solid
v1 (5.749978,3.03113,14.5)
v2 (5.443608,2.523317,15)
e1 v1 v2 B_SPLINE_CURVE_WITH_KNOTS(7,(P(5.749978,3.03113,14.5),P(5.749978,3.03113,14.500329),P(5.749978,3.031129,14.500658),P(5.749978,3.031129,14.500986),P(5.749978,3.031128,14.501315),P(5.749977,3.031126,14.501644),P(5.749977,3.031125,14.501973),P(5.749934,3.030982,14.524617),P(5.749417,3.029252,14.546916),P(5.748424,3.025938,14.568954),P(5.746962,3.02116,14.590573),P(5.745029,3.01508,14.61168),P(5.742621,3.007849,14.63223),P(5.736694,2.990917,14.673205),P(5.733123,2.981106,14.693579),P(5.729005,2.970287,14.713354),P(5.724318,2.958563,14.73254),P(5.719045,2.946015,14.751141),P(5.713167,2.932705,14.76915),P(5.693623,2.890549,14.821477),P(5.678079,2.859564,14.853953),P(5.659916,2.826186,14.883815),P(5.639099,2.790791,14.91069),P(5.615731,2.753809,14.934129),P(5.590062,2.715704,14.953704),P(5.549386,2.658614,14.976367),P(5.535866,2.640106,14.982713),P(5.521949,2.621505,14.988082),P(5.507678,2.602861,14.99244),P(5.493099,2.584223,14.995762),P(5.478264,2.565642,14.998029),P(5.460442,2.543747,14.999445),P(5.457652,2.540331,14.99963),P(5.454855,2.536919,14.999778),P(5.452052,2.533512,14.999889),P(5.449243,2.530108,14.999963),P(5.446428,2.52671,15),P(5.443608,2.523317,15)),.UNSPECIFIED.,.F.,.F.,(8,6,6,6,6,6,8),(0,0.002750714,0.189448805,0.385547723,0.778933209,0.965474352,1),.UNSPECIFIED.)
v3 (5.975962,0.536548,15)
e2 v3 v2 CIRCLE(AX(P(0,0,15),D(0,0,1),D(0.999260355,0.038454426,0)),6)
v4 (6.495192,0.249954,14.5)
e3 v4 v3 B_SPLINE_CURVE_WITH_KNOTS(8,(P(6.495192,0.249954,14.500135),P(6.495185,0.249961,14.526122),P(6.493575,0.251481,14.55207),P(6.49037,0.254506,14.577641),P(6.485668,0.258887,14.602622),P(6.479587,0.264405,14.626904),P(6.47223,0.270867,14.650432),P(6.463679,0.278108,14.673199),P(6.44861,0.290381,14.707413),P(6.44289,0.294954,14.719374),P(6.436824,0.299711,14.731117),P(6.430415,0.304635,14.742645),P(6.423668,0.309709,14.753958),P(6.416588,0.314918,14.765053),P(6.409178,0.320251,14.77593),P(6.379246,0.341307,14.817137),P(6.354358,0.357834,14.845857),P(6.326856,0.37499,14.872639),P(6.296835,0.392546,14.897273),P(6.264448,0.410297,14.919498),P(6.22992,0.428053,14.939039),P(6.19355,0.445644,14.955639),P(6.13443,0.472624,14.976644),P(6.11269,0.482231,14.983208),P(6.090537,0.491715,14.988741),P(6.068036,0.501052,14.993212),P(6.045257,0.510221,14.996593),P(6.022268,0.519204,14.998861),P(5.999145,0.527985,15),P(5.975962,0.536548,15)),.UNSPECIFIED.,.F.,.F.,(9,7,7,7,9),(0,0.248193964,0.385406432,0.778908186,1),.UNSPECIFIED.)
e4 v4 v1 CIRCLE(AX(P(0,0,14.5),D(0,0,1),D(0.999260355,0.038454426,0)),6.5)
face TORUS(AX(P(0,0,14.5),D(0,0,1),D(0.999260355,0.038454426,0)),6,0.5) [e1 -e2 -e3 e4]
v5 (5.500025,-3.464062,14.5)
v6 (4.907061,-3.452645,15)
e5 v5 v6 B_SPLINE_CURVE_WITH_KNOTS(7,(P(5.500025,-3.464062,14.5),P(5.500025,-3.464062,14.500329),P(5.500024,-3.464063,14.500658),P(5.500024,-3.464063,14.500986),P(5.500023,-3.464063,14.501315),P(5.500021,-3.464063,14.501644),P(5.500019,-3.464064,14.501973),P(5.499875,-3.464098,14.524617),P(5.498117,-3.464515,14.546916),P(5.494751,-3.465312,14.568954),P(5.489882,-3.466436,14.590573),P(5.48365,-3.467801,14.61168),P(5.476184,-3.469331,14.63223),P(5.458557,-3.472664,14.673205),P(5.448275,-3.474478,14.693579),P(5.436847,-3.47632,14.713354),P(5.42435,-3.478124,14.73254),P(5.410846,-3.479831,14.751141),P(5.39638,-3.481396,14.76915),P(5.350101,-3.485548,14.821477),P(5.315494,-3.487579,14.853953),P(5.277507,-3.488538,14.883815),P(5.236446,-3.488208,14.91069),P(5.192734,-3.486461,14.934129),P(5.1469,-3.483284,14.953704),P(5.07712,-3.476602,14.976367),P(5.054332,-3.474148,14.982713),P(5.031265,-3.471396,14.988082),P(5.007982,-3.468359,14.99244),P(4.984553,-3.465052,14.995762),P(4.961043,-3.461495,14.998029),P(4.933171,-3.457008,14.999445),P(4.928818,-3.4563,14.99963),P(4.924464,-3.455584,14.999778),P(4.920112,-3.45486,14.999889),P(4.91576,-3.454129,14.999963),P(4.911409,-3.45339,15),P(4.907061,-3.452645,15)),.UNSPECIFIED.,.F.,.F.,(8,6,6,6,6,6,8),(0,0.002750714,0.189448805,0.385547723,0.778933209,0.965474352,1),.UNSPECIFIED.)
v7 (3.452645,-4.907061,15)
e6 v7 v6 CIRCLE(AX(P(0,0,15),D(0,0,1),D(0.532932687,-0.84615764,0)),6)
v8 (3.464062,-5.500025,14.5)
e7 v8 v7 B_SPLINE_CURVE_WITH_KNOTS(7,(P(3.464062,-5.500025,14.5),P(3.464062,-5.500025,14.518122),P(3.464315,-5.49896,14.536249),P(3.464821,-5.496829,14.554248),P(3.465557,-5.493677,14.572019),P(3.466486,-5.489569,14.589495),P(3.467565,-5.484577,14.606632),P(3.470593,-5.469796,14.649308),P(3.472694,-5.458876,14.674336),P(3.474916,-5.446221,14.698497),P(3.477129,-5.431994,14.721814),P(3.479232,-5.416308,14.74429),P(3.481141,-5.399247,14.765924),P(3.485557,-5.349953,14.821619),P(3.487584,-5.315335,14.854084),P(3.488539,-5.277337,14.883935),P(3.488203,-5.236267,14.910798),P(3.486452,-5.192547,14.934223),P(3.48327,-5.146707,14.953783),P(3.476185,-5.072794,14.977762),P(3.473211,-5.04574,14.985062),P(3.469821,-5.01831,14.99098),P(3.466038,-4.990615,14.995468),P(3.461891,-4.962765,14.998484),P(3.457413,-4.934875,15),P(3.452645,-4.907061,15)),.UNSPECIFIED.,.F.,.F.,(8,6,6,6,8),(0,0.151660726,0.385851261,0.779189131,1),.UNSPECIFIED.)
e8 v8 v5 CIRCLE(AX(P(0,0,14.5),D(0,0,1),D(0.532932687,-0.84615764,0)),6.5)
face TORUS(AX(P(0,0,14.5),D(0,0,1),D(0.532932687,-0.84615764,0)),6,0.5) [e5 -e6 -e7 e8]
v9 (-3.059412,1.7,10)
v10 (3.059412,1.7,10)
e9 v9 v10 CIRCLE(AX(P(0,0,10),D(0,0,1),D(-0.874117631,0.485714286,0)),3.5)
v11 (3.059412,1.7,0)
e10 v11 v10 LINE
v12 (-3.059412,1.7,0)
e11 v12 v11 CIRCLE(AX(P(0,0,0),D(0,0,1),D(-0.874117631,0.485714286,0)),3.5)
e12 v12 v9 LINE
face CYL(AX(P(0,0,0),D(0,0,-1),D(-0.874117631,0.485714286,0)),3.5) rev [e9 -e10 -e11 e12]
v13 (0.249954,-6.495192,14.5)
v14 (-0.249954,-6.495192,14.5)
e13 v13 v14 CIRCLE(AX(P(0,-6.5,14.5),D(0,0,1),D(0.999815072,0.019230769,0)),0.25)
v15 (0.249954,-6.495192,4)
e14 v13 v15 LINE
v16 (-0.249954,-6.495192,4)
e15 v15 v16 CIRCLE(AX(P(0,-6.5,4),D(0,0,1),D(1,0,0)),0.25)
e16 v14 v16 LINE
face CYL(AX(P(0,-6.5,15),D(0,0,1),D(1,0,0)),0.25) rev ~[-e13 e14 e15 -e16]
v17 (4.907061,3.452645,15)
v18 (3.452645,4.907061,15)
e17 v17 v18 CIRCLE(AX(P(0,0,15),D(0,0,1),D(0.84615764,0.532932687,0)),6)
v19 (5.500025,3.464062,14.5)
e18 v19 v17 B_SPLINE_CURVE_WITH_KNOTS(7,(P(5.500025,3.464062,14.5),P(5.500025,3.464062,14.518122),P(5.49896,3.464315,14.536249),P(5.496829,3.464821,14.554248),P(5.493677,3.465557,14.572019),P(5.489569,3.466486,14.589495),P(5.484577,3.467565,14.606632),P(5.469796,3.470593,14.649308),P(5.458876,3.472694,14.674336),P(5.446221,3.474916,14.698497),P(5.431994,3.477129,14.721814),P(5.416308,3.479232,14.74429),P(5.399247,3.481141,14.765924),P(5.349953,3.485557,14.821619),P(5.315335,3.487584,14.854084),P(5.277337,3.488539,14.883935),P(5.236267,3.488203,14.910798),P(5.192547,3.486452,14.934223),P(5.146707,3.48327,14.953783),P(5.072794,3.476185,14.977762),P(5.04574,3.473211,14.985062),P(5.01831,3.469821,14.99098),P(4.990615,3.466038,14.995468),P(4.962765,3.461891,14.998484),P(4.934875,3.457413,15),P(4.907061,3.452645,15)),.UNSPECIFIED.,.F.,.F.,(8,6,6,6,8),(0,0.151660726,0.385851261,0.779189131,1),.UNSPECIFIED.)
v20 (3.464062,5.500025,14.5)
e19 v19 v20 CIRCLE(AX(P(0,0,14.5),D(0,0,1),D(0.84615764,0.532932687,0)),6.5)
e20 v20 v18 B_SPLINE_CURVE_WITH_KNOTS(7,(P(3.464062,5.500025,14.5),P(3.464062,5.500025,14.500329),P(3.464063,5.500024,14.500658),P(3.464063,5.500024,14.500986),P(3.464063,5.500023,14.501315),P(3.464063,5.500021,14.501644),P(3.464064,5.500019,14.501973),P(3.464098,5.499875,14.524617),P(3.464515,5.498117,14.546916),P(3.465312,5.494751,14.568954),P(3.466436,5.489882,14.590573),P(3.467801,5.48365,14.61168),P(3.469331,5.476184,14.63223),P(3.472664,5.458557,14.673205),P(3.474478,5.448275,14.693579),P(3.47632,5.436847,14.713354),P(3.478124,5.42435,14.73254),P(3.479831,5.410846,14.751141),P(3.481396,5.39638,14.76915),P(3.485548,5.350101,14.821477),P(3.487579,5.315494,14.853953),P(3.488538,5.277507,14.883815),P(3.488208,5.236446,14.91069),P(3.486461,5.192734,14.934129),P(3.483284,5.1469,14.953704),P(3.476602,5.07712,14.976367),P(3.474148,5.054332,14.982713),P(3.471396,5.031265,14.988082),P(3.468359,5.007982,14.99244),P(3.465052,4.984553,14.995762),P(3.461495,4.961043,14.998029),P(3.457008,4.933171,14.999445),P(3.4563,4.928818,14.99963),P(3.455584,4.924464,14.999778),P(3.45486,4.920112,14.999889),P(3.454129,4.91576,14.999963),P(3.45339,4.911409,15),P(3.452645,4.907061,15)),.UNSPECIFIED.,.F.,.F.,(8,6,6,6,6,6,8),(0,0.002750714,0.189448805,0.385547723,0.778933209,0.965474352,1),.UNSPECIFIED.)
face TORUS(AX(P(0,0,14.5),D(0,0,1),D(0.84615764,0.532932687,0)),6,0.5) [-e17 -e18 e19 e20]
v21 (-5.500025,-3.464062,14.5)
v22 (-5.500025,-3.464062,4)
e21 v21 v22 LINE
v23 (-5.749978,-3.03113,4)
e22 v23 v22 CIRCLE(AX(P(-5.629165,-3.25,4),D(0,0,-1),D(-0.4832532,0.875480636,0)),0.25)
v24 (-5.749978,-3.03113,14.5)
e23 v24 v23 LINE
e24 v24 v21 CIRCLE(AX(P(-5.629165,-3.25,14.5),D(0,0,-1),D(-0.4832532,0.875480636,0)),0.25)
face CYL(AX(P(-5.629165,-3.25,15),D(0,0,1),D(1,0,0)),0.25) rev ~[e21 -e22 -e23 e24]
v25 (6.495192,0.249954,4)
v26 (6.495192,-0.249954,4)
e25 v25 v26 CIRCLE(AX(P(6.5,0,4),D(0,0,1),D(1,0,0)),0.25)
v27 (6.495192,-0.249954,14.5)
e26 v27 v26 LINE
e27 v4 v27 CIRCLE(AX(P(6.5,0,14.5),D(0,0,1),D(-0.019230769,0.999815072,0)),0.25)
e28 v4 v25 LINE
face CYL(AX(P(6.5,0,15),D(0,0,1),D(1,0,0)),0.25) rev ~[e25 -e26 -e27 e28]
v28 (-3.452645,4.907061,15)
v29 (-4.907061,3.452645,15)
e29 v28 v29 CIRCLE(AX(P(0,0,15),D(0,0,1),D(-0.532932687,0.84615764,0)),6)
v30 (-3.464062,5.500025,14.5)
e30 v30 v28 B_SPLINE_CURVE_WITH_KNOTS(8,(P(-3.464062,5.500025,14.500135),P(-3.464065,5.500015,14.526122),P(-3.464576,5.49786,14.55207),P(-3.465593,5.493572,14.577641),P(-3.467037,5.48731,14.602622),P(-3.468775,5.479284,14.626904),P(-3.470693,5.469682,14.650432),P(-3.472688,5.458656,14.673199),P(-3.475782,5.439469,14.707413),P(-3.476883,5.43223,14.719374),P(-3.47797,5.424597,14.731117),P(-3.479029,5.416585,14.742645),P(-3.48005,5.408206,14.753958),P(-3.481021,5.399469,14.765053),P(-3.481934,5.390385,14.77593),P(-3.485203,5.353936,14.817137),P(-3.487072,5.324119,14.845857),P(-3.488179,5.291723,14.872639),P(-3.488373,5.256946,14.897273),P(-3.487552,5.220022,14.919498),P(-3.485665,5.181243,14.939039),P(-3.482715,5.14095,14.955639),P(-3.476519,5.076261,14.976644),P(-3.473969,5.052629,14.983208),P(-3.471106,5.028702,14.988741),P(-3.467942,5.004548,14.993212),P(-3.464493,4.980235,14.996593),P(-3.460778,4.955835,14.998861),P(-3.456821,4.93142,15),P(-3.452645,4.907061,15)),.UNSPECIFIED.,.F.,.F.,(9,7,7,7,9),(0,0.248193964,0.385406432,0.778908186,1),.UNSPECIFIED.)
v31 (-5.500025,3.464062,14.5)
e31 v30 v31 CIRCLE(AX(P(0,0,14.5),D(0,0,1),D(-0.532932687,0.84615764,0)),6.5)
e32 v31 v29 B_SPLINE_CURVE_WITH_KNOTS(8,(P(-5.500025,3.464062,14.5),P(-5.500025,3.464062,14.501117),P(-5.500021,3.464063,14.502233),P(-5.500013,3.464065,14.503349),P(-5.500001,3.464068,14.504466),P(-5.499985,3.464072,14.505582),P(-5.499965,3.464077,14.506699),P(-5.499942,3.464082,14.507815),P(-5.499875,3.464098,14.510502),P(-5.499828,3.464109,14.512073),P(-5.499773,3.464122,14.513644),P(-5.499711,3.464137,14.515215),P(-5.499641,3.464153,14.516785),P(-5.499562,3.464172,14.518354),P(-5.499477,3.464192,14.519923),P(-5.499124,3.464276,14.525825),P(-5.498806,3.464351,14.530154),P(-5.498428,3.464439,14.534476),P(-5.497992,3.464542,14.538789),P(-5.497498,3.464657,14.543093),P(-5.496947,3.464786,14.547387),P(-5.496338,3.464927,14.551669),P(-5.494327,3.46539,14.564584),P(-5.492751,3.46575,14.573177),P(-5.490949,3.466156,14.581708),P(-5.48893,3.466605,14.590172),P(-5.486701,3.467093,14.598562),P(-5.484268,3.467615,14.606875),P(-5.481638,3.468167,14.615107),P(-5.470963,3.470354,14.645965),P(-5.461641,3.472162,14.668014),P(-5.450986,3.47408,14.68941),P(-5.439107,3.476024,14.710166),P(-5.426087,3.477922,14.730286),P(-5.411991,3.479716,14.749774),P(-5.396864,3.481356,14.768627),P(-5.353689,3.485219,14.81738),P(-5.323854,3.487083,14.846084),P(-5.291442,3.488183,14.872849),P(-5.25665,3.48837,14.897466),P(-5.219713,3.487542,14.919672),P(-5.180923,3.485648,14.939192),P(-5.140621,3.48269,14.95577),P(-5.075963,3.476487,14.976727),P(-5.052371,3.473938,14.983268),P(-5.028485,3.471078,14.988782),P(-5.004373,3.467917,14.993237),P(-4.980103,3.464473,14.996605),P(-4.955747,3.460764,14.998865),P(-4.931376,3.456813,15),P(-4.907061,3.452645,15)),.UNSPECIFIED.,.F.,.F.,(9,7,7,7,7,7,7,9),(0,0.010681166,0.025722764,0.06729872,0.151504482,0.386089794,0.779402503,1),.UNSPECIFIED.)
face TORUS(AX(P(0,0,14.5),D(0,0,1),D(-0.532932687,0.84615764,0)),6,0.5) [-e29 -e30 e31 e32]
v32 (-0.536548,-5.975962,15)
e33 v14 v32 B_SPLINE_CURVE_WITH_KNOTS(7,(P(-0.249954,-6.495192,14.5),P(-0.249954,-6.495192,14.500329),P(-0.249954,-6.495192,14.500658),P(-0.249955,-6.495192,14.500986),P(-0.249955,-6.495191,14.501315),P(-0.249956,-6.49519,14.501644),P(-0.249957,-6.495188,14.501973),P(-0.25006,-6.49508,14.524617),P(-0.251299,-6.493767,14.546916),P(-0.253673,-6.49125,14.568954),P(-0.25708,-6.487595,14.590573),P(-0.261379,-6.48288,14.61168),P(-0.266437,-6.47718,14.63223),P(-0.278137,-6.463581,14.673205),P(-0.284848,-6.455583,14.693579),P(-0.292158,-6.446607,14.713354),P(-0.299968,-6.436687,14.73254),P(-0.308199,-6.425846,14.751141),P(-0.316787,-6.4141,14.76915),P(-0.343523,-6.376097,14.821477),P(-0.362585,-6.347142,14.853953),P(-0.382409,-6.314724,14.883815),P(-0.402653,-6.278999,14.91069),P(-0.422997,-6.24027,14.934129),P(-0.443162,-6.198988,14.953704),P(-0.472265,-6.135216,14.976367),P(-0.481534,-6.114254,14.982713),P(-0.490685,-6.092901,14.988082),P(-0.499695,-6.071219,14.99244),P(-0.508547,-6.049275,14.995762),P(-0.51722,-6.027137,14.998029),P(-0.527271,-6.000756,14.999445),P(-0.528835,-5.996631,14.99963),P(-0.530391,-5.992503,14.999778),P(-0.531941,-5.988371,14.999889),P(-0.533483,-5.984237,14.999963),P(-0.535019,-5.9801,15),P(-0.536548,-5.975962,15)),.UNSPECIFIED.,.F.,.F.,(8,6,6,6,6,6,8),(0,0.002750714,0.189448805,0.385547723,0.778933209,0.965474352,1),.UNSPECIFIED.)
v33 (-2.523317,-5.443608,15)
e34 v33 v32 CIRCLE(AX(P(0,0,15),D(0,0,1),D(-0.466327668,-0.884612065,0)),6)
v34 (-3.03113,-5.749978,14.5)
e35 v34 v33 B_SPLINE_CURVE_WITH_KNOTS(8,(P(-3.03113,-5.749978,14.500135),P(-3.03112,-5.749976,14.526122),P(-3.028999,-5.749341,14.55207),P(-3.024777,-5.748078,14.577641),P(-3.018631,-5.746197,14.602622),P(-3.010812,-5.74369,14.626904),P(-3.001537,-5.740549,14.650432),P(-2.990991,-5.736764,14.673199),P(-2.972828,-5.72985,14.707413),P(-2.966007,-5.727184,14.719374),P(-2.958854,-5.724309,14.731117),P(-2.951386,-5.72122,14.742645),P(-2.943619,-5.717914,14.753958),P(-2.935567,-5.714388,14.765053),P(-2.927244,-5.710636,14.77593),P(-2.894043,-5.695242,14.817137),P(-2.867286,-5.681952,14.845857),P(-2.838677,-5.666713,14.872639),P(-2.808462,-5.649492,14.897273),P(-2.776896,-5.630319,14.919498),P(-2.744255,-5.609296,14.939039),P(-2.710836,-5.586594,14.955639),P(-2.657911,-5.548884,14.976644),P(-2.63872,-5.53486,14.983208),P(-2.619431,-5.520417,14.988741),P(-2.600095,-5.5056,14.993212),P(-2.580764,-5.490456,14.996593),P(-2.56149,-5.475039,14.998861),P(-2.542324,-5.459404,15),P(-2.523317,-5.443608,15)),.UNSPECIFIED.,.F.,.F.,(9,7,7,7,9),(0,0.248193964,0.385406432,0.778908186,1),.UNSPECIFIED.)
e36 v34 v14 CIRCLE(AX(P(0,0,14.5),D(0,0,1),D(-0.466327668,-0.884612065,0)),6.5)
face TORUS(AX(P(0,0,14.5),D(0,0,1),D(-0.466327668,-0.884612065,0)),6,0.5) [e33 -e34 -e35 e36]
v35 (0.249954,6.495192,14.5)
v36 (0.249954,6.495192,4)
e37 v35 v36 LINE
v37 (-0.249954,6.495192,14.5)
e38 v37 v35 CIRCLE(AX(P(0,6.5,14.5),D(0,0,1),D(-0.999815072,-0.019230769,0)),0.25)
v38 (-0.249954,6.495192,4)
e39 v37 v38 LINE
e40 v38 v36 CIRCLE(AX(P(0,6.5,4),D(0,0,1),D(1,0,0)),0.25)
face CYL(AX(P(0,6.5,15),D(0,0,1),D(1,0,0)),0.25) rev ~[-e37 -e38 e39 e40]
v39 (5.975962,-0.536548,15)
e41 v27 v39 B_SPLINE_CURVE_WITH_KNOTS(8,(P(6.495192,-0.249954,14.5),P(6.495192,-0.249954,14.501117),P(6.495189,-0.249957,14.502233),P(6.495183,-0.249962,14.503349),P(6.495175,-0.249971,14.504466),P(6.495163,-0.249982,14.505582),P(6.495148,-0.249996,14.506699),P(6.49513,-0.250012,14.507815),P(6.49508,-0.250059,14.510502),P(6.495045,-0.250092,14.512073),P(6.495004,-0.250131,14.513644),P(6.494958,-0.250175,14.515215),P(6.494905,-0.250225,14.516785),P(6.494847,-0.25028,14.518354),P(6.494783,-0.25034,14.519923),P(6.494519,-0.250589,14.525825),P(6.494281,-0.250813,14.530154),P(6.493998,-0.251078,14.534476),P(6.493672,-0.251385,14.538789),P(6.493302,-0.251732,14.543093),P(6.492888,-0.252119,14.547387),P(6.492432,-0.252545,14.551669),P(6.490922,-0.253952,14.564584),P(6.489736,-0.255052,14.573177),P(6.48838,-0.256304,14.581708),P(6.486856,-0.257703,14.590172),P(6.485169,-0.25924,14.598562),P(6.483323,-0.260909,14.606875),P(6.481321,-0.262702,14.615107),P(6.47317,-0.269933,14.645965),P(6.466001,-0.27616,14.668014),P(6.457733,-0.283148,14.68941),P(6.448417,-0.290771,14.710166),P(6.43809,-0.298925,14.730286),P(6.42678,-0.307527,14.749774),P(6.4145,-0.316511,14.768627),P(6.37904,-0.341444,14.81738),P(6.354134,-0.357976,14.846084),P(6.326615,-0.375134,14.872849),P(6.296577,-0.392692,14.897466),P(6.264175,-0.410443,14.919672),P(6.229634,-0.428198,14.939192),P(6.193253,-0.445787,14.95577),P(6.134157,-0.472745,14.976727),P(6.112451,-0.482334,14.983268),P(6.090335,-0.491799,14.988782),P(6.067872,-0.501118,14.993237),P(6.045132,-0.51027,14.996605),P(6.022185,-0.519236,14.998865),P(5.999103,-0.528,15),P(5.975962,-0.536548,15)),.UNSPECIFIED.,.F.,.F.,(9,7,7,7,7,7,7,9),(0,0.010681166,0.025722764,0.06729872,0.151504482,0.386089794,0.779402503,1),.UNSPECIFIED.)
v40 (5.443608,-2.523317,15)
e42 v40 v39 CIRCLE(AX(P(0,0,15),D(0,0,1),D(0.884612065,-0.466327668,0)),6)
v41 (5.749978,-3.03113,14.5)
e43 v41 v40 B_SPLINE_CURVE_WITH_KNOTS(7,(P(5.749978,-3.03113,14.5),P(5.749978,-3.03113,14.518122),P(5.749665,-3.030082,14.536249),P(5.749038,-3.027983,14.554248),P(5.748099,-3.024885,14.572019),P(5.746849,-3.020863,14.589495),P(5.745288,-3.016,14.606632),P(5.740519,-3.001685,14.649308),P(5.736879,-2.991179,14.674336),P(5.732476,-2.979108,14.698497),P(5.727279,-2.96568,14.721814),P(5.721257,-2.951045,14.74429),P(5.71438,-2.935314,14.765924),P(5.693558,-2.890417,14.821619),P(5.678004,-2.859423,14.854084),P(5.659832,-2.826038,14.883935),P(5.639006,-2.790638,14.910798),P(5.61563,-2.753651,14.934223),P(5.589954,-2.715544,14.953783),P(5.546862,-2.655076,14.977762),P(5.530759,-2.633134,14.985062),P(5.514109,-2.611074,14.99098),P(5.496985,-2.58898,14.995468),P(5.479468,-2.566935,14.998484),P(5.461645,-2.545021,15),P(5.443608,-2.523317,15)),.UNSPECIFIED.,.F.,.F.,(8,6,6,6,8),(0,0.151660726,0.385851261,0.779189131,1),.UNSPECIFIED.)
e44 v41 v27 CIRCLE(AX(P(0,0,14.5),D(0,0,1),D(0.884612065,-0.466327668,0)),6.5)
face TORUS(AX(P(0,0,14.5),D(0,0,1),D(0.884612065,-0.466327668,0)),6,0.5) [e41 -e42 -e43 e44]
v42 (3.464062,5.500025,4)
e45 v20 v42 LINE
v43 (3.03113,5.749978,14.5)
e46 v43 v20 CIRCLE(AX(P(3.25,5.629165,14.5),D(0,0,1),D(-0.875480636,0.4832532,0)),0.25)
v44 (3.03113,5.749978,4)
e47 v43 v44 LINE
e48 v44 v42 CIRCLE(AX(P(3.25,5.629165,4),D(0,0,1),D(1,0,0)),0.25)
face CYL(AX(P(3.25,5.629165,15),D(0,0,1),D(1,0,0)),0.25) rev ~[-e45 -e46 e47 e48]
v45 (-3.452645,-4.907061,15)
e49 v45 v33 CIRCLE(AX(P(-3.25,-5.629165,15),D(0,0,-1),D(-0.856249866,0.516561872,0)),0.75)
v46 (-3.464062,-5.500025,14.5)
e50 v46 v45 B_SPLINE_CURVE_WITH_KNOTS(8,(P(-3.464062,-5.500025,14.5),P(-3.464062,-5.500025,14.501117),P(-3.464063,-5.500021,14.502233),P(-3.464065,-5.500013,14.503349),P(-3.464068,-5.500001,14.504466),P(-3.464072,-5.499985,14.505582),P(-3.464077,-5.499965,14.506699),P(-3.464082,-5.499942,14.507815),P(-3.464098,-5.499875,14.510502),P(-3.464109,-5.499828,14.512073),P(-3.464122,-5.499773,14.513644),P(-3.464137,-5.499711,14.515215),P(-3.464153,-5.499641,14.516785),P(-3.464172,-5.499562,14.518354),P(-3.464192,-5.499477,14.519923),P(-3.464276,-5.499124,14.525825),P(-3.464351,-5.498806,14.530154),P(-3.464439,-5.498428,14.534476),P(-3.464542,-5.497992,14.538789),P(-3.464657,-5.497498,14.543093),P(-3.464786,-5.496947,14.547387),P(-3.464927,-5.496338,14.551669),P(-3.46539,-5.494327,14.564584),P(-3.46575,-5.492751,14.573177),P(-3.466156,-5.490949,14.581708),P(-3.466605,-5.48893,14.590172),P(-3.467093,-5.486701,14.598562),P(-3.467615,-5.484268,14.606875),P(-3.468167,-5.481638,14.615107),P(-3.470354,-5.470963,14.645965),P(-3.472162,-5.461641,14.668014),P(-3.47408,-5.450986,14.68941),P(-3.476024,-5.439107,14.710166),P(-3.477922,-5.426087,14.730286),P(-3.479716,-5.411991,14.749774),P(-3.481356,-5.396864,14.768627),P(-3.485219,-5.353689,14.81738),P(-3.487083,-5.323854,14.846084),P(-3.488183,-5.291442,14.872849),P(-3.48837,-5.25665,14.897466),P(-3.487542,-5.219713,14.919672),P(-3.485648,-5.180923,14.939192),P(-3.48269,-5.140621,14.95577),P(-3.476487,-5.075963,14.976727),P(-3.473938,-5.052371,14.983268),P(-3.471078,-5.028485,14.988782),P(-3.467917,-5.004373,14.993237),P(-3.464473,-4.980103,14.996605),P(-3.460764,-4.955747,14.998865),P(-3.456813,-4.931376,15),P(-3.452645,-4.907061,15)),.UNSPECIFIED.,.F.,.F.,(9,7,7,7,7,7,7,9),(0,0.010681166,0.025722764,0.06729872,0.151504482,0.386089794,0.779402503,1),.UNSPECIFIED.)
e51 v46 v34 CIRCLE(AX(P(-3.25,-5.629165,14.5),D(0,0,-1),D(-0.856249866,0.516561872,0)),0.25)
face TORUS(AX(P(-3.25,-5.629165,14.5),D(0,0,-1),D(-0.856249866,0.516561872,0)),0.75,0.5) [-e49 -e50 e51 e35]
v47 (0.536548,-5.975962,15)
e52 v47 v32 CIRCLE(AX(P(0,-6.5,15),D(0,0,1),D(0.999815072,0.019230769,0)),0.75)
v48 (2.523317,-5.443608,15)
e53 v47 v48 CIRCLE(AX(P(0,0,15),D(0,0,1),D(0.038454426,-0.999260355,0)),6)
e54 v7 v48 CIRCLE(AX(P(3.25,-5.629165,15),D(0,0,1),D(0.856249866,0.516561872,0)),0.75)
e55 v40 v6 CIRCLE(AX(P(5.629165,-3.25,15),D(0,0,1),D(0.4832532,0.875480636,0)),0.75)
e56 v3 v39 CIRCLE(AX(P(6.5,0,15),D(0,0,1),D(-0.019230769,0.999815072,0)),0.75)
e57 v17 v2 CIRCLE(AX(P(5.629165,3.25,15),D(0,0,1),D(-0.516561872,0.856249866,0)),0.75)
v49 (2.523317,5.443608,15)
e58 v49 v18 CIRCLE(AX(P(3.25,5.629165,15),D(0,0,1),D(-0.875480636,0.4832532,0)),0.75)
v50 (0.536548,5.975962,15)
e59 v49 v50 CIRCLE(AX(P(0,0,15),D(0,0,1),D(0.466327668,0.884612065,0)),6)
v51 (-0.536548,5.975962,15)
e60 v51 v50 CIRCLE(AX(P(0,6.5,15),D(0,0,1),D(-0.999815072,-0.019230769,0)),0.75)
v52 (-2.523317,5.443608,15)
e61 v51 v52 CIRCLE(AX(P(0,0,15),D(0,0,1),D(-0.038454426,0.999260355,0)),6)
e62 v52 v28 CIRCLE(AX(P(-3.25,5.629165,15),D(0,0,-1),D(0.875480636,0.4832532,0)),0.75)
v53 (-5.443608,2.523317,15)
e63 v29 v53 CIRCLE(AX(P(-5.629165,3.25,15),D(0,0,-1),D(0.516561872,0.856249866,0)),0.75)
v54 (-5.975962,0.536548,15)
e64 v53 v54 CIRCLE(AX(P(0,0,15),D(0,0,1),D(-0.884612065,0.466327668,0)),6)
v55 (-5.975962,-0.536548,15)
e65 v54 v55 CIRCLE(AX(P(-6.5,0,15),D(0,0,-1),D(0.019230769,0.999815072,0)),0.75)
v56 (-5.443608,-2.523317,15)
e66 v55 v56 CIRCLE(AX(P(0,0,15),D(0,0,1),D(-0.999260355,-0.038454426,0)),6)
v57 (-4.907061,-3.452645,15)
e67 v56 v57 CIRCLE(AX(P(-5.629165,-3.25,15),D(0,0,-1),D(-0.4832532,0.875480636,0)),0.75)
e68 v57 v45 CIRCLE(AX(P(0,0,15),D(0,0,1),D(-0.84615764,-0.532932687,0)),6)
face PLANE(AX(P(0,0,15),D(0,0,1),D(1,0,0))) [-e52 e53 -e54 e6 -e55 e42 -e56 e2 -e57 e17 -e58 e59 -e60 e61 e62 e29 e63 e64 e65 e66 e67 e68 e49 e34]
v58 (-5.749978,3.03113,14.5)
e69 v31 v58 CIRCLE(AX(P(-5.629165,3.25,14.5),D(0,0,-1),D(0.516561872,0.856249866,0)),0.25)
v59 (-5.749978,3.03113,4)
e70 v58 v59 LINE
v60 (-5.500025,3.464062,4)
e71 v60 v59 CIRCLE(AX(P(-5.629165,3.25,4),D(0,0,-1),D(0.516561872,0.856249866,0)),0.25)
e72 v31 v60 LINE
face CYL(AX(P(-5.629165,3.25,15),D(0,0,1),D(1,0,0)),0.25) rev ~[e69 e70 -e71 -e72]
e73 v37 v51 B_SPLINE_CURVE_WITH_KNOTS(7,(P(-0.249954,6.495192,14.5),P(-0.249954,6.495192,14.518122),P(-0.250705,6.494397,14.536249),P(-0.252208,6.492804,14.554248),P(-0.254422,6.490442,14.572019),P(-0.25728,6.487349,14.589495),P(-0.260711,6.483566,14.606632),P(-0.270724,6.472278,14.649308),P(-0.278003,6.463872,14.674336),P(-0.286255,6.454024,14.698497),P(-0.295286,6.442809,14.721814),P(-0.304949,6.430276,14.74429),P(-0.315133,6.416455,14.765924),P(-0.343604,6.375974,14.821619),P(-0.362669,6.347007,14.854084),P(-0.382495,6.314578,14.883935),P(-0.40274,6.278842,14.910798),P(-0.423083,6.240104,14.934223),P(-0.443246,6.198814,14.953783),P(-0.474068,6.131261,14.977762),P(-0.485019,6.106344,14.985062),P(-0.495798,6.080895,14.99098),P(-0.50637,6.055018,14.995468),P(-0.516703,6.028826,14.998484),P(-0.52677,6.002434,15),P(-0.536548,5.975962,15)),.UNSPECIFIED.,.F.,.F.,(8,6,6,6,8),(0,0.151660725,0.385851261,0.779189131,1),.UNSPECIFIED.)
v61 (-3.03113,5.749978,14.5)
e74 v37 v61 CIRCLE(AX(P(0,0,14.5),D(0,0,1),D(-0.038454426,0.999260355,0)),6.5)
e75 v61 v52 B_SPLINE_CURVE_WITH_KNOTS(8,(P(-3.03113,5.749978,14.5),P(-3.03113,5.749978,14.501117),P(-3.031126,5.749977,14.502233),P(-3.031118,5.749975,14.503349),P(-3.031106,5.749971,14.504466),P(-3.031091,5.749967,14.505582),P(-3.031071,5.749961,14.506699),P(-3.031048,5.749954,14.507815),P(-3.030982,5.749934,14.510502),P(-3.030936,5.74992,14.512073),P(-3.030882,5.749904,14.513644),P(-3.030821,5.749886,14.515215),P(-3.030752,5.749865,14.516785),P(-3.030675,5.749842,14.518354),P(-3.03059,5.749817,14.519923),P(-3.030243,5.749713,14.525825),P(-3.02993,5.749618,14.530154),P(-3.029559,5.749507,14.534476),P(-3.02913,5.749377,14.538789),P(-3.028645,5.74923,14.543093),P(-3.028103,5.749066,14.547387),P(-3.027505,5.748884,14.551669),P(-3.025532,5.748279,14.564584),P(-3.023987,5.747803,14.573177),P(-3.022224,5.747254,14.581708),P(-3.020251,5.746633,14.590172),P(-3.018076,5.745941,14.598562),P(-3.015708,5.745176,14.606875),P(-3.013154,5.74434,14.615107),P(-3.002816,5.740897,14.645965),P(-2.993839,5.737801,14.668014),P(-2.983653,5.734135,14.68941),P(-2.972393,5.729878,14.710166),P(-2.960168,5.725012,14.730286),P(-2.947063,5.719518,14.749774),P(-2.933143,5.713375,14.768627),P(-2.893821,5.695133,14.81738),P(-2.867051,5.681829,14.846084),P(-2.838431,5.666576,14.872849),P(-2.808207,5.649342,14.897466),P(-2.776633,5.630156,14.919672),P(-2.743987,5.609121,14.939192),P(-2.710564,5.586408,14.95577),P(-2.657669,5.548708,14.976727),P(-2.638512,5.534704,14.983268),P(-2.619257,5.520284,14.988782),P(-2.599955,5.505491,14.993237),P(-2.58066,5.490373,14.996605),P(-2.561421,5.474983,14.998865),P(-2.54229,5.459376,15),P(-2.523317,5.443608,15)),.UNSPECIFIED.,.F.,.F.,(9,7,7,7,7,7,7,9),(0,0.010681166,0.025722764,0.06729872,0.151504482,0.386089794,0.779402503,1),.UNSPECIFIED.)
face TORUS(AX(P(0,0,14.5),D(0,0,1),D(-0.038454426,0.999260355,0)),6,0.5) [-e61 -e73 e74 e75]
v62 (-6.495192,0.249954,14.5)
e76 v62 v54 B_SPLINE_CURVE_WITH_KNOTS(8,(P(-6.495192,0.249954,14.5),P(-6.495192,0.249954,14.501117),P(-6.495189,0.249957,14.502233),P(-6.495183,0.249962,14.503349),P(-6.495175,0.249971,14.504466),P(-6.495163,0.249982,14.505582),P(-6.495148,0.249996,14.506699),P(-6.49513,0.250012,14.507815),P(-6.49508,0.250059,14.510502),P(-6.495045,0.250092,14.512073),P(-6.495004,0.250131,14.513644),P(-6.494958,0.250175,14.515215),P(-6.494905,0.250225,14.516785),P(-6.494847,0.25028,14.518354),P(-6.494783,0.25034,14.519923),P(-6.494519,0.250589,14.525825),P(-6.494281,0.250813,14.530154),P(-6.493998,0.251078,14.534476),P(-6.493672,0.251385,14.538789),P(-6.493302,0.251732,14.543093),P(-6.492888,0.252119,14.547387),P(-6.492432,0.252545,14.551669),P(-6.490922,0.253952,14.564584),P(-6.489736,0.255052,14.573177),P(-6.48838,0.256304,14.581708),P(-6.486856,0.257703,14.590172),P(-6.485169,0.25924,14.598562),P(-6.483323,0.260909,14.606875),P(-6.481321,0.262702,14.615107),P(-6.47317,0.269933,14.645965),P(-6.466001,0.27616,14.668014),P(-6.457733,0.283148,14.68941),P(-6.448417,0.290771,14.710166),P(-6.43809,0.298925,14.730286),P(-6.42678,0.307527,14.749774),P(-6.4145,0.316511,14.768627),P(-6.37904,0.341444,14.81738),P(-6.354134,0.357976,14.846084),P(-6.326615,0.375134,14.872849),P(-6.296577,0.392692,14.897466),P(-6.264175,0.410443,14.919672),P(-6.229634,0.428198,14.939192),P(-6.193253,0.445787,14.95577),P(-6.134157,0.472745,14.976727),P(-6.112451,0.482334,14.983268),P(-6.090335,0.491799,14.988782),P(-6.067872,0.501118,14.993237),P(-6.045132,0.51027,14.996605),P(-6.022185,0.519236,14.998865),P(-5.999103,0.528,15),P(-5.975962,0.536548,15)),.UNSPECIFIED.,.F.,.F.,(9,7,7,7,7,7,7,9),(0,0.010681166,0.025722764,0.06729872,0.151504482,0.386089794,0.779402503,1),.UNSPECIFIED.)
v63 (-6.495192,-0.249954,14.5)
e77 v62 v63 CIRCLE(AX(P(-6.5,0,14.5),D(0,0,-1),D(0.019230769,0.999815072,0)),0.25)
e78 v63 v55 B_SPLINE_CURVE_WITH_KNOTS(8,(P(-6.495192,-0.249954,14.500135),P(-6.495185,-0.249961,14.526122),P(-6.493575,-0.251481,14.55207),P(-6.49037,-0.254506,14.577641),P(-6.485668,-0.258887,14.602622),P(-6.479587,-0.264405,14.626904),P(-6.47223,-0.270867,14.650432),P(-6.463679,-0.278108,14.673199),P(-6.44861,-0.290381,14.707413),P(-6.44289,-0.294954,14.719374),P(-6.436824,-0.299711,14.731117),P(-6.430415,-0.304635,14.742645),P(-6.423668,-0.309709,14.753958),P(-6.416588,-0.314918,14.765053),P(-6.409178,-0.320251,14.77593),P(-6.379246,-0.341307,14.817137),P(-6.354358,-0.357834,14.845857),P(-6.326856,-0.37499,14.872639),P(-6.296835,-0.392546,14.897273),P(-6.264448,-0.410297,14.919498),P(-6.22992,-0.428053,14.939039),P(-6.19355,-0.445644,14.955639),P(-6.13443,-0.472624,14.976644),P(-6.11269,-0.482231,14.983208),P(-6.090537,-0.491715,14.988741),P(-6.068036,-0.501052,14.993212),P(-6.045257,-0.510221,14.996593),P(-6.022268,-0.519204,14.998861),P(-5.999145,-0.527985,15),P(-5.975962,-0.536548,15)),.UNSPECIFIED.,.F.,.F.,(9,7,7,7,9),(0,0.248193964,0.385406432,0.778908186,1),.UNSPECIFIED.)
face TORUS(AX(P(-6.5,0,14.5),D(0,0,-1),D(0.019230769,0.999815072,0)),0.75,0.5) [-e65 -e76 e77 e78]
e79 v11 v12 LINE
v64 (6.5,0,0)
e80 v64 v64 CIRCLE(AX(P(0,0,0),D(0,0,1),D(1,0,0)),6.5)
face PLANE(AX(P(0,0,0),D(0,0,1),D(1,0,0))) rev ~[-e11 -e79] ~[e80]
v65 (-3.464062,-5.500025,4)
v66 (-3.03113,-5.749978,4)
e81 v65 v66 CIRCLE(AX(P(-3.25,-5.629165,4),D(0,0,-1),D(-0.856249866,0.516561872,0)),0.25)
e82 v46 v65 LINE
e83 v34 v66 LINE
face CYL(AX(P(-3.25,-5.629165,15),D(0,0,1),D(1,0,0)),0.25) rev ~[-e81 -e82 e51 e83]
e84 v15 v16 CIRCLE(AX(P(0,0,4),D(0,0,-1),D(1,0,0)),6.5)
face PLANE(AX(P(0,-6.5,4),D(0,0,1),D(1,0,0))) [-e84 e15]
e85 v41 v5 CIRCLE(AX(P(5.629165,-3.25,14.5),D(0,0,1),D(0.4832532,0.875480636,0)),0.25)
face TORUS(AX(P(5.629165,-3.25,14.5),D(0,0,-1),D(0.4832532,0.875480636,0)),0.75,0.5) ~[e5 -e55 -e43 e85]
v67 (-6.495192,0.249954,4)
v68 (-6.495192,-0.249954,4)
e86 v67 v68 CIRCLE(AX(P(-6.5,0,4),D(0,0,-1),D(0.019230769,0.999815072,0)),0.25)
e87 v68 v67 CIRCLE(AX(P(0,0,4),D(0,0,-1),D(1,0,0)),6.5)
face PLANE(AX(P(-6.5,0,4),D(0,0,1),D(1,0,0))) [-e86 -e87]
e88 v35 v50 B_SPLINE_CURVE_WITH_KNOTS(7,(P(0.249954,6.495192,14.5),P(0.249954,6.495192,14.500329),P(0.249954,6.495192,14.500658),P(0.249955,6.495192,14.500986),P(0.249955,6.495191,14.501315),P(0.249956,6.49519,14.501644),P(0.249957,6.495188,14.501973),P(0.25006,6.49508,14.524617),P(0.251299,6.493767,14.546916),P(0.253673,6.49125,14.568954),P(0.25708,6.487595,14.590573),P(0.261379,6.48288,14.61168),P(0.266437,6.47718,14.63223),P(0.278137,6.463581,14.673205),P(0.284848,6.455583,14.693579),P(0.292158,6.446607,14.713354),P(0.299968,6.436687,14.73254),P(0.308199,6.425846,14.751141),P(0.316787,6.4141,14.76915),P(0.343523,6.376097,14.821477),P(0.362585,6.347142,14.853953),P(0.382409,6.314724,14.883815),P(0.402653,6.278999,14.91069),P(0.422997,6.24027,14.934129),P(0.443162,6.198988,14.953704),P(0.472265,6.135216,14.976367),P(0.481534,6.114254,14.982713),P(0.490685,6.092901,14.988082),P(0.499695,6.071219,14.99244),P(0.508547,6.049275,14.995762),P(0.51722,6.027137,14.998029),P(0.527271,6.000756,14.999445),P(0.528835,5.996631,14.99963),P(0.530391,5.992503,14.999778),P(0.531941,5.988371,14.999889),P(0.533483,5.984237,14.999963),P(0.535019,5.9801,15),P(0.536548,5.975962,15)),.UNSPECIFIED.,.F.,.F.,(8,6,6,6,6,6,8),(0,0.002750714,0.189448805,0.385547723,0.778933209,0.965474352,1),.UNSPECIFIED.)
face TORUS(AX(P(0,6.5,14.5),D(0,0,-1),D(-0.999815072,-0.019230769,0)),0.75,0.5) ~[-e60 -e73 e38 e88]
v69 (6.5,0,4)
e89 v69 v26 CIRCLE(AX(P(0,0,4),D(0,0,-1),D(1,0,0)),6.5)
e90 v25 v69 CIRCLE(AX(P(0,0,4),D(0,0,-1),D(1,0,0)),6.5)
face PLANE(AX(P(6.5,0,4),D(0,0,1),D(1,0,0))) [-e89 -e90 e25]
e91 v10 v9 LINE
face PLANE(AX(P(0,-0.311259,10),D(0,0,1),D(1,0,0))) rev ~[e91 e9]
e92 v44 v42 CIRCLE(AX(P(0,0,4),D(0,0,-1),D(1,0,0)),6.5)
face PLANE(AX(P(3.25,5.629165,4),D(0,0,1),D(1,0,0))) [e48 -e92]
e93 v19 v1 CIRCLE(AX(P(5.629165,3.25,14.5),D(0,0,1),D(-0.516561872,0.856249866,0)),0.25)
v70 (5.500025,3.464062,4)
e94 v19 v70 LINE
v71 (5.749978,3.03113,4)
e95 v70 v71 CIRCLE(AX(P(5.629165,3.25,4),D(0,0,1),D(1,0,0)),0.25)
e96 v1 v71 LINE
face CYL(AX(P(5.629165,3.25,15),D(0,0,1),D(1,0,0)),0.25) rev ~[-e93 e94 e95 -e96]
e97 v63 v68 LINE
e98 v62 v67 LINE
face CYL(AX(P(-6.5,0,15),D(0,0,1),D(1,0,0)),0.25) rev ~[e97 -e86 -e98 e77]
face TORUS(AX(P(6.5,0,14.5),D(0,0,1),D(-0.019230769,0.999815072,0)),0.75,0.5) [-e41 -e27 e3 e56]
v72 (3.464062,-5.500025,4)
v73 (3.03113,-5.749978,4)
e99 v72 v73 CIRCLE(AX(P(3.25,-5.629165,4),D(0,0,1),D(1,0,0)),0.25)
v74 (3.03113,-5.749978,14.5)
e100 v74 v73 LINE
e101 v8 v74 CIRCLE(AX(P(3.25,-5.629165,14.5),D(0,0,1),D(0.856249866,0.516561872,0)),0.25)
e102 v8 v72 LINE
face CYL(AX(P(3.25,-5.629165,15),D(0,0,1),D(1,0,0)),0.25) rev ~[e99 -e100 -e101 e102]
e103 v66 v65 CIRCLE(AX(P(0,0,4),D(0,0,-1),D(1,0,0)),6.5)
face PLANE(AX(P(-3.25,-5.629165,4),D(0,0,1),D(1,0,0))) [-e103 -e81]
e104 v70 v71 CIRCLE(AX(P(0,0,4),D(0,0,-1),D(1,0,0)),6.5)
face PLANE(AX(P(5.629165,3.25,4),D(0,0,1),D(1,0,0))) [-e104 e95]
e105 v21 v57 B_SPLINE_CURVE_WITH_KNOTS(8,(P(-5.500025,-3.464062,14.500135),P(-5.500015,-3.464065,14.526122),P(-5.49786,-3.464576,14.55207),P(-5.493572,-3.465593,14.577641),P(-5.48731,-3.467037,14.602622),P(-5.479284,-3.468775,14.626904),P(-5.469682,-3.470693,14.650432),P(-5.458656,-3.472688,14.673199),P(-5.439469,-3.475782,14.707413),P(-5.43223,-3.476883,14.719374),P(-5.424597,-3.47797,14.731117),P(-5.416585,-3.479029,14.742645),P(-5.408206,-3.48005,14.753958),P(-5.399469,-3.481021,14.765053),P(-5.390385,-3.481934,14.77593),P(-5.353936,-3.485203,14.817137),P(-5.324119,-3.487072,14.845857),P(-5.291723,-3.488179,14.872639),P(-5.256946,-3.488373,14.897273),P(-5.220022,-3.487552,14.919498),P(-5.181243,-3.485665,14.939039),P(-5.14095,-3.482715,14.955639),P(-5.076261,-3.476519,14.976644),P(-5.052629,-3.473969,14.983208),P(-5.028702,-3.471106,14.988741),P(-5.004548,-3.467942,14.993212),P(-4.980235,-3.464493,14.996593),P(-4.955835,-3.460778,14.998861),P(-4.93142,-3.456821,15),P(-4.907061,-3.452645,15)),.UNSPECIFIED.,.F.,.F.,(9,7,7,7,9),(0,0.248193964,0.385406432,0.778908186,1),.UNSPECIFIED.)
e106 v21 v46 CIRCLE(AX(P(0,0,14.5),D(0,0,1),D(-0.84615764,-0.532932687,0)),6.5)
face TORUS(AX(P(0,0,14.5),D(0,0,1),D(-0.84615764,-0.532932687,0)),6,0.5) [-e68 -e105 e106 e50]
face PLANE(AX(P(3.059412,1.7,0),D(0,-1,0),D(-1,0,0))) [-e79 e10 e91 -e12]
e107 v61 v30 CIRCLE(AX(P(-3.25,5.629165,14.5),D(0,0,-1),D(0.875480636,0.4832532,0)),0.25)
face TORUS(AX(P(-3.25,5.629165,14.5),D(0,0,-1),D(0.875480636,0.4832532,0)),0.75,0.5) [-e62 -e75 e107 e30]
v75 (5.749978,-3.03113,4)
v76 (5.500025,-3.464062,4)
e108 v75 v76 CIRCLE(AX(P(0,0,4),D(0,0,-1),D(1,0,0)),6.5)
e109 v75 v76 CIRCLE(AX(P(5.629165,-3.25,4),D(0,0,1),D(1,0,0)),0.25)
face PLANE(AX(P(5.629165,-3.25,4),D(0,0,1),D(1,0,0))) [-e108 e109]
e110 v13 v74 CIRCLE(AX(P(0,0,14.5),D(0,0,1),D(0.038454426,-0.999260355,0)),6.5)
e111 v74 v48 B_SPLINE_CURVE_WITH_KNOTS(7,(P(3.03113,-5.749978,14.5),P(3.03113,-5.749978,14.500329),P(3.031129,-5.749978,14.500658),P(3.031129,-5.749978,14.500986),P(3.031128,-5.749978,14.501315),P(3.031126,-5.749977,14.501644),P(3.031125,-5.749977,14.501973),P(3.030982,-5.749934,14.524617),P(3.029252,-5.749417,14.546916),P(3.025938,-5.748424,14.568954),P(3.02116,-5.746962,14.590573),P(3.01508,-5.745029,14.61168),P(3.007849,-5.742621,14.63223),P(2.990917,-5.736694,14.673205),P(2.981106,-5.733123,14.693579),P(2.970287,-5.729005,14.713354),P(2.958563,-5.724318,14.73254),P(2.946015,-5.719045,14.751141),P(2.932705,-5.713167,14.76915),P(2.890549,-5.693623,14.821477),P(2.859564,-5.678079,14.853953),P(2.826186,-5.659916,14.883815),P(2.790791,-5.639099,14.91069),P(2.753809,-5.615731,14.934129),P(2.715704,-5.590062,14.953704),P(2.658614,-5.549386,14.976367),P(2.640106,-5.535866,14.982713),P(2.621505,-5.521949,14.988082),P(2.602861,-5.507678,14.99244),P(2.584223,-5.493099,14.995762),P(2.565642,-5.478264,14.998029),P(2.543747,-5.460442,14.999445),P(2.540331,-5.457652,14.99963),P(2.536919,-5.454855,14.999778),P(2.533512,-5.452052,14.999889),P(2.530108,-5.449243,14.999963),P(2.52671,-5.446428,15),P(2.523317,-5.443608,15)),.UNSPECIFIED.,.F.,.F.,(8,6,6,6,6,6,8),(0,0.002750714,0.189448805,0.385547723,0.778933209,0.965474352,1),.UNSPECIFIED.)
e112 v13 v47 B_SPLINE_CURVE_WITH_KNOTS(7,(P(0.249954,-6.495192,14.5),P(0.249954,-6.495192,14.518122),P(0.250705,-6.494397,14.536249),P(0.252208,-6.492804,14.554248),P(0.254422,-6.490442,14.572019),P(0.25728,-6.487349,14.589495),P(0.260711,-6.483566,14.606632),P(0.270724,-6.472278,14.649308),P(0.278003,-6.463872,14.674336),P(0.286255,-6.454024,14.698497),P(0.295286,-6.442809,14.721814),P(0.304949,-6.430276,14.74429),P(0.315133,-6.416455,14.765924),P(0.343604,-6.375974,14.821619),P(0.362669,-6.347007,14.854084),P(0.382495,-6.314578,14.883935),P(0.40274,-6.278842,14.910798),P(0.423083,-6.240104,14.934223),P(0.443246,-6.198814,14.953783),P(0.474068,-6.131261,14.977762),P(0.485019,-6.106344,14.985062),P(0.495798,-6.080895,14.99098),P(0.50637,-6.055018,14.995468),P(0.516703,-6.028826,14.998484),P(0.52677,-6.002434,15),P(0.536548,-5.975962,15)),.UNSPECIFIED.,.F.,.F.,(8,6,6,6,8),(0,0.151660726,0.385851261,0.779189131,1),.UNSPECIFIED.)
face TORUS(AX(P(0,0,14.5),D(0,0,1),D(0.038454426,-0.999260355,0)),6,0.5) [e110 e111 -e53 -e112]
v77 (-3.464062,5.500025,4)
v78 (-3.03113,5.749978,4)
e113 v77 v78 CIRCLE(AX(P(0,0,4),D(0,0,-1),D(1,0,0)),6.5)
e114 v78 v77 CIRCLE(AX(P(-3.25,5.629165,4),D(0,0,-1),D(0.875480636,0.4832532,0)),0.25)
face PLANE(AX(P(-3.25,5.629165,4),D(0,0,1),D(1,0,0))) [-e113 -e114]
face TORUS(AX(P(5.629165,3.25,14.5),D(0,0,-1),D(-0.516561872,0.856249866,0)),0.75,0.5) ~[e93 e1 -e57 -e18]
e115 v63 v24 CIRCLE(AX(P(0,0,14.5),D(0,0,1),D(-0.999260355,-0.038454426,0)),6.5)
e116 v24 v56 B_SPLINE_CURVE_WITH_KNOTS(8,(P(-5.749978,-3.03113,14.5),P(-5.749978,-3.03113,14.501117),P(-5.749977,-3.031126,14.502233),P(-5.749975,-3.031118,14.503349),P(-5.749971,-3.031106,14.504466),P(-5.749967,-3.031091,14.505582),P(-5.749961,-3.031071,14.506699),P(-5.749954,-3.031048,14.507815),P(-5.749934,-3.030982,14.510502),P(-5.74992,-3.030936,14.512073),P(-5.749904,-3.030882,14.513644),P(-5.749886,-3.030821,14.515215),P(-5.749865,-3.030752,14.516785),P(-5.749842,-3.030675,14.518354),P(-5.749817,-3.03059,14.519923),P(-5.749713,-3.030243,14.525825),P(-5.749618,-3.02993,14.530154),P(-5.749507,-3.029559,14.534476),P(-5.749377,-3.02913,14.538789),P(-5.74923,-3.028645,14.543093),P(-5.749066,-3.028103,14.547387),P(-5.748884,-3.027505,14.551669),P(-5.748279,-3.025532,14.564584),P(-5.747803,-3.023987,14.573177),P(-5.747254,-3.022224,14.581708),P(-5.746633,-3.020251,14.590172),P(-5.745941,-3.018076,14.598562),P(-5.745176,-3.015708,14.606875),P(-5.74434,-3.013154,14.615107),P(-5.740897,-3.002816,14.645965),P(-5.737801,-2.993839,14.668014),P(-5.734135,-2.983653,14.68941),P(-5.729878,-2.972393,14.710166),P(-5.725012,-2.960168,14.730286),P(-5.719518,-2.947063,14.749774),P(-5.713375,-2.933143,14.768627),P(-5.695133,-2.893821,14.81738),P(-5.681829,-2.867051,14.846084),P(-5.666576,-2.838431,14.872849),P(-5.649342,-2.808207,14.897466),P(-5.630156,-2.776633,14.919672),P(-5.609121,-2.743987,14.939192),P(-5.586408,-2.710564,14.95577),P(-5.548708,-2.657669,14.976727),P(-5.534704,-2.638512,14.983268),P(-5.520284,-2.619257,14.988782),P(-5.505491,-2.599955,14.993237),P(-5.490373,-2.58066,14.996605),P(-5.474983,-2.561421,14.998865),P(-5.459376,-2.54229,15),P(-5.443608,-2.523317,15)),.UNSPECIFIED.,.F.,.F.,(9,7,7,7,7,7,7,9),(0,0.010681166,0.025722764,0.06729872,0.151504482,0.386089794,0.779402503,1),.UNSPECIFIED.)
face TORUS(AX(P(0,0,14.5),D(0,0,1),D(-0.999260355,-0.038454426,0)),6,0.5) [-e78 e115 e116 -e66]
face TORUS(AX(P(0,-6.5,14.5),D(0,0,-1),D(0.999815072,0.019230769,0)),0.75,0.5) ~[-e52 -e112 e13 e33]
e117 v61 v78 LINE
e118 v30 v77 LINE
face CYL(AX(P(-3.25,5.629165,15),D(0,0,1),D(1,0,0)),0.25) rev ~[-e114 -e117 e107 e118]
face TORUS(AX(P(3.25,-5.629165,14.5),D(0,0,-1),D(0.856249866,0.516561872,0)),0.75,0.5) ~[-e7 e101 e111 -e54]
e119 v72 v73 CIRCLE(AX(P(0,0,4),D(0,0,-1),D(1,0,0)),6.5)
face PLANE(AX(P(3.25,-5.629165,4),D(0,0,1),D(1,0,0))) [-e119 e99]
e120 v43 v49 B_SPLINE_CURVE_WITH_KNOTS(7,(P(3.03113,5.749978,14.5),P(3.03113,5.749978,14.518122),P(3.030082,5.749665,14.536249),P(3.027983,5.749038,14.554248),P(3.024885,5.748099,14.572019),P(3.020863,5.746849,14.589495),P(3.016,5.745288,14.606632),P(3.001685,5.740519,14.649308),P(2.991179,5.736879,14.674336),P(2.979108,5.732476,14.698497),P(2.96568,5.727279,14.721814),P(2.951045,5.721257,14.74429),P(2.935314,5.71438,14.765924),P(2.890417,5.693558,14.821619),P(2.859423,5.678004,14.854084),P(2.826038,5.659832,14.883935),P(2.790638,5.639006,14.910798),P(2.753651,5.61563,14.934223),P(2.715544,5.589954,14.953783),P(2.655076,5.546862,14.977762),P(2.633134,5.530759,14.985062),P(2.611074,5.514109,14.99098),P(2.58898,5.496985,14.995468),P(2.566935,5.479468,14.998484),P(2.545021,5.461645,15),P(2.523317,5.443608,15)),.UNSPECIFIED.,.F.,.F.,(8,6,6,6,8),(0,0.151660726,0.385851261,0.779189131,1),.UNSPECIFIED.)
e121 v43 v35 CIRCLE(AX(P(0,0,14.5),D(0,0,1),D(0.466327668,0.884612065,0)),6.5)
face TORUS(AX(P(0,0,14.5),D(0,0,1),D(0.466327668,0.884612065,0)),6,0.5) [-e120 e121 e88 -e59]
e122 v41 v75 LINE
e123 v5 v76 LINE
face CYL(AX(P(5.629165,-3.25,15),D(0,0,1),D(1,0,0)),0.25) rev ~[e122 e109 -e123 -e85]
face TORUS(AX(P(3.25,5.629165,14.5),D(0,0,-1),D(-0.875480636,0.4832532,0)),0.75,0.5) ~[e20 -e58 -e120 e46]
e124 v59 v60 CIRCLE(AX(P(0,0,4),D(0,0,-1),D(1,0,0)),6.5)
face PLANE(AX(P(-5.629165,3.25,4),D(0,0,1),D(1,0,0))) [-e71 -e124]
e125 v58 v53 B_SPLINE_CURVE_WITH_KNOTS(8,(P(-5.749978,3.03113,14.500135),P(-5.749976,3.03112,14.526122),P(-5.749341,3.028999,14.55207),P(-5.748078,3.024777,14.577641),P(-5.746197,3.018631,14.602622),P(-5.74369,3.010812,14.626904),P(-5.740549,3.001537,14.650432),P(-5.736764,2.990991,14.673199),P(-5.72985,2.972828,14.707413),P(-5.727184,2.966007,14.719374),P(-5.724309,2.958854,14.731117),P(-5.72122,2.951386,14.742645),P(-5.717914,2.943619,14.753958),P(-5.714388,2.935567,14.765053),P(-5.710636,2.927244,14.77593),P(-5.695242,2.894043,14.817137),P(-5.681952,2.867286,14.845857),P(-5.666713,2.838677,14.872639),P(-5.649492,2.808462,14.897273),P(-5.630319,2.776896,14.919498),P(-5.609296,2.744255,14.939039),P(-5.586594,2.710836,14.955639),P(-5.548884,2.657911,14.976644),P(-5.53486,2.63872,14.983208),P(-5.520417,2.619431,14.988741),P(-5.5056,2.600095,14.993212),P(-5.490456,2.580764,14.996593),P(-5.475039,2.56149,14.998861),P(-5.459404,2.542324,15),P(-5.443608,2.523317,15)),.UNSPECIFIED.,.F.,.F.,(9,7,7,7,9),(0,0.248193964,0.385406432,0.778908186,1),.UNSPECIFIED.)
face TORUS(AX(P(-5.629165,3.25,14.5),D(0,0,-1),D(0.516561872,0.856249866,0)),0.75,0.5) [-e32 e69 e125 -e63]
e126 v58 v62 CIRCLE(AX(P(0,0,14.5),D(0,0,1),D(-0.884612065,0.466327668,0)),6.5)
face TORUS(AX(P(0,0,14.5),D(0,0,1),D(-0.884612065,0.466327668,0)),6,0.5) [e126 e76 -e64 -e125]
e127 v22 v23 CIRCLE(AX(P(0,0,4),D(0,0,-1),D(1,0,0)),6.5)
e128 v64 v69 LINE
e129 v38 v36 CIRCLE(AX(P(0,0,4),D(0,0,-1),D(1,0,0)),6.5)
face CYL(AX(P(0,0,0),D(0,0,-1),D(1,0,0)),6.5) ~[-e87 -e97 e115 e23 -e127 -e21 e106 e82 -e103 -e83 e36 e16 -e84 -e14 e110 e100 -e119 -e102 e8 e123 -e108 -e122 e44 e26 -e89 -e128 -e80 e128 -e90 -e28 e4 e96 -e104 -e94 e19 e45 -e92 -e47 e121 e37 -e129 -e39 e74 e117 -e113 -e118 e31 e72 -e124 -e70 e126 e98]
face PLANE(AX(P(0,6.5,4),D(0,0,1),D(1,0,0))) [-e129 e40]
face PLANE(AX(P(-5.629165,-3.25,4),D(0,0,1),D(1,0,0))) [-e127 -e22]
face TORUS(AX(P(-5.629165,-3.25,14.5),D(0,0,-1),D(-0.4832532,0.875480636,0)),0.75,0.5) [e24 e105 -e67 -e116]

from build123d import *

# Parameters (mm, degrees)
SKIZZE1_R                       = 6.5
AUFSATZ_LINEAR_AUSTRAGEN1_DEPTH = 15
SCHNITT_LINEAR_AUSTRAGEN1_DEPTH = 10
SKIZZE3_R                       = 0.25
SCHNITT_LINEAR_AUSTRAGEN3_DEPTH = 11
VERRUNDUNG2_R                   = 0.5


with BuildPart() as part:
    # Skizze1 → Aufsatz-Linear austragen1 (new body)
    with BuildSketch(Plane.XY):
        Circle(SKIZZE1_R)
    extrude(amount=AUFSATZ_LINEAR_AUSTRAGEN1_DEPTH)

    # Skizze2 → Schnitt-Linear austragen1 (cut)
    with BuildSketch(Plane(origin=(0, 0, 0), x_dir=(-1, 0, 0), z_dir=(0, 0, -1))):
        with BuildLine():
            Line((-3.059411708, 1.7), (3.059411708, 1.7))
            ThreePointArc((3.059411708, 1.7), (0, -3.5), (-3.059411708, 1.7))
        make_face()
    extrude(amount=-SCHNITT_LINEAR_AUSTRAGEN1_DEPTH, mode=Mode.SUBTRACT)

    # Skizze3 → Schnitt-Linear austragen3 (cut)
    with BuildSketch(Plane.XY.offset(15)):
        with Locations((0, 6.5)):
            Circle(SKIZZE3_R)
        with Locations((3.25, 5.629165125)):
            Circle(SKIZZE3_R)
        with Locations((5.629165125, 3.25)):
            Circle(SKIZZE3_R)
        with Locations((6.5, 0)):
            Circle(SKIZZE3_R)
        with Locations((5.629165125, -3.25)):
            Circle(SKIZZE3_R)
        with Locations((3.25, -5.629165125)):
            Circle(SKIZZE3_R)
        with Locations((0, -6.5)):
            Circle(SKIZZE3_R)
        with Locations((-3.25, -5.629165125)):
            Circle(SKIZZE3_R)
        with Locations((-5.629165125, -3.25)):
            Circle(SKIZZE3_R)
        with Locations((-6.5, 0)):
            Circle(SKIZZE3_R)
        with Locations((-5.629165125, 3.25)):
            Circle(SKIZZE3_R)
        with Locations((-3.25, 5.629165125)):
            Circle(SKIZZE3_R)
    extrude(amount=-SCHNITT_LINEAR_AUSTRAGEN3_DEPTH, mode=Mode.SUBTRACT)

    # Verrundung2
    verrundung2_edges = [part.edges().sort_by_distance(p)[0] for p in [
        (4.596194078, 4.596194078, 15),
        (1.682323793, 6.278517871, 15),
        (-1.682323793, 6.278517871, 15),
        (-4.596194078, 4.596194078, 15),
        (-6.278517871, 1.682323793, 15),
        (-6.278517871, -1.682323793, 15),
        (-4.596194078, -4.596194078, 15),
        (-1.682323793, -6.278517871, 15),
        (1.682323793, -6.278517871, 15),
        (4.596194078, -4.596194078, 15),
        (6.278517871, -1.682323793, 15),
        (-5.412658774, -3.125, 15),
        (-3.125, -5.412658774, 15),
        (-6.25, 0, 15),
        (-5.412658774, 3.125, 15),
        (-3.125, 5.412658774, 15),
        (6.278517871, 1.682323793, 15),
        (0, 6.25, 15),
        (3.125, 5.412658774, 15),
        (5.412658774, 3.125, 15),
        (6.25, 0, 15),
        (5.412658774, -3.125, 15),
        (3.125, -5.412658774, 15),
        (0, -6.25, 15),
    ]]
    fillet(verrundung2_edges, radius=VERRUNDUNG2_R)


solid = part.part
